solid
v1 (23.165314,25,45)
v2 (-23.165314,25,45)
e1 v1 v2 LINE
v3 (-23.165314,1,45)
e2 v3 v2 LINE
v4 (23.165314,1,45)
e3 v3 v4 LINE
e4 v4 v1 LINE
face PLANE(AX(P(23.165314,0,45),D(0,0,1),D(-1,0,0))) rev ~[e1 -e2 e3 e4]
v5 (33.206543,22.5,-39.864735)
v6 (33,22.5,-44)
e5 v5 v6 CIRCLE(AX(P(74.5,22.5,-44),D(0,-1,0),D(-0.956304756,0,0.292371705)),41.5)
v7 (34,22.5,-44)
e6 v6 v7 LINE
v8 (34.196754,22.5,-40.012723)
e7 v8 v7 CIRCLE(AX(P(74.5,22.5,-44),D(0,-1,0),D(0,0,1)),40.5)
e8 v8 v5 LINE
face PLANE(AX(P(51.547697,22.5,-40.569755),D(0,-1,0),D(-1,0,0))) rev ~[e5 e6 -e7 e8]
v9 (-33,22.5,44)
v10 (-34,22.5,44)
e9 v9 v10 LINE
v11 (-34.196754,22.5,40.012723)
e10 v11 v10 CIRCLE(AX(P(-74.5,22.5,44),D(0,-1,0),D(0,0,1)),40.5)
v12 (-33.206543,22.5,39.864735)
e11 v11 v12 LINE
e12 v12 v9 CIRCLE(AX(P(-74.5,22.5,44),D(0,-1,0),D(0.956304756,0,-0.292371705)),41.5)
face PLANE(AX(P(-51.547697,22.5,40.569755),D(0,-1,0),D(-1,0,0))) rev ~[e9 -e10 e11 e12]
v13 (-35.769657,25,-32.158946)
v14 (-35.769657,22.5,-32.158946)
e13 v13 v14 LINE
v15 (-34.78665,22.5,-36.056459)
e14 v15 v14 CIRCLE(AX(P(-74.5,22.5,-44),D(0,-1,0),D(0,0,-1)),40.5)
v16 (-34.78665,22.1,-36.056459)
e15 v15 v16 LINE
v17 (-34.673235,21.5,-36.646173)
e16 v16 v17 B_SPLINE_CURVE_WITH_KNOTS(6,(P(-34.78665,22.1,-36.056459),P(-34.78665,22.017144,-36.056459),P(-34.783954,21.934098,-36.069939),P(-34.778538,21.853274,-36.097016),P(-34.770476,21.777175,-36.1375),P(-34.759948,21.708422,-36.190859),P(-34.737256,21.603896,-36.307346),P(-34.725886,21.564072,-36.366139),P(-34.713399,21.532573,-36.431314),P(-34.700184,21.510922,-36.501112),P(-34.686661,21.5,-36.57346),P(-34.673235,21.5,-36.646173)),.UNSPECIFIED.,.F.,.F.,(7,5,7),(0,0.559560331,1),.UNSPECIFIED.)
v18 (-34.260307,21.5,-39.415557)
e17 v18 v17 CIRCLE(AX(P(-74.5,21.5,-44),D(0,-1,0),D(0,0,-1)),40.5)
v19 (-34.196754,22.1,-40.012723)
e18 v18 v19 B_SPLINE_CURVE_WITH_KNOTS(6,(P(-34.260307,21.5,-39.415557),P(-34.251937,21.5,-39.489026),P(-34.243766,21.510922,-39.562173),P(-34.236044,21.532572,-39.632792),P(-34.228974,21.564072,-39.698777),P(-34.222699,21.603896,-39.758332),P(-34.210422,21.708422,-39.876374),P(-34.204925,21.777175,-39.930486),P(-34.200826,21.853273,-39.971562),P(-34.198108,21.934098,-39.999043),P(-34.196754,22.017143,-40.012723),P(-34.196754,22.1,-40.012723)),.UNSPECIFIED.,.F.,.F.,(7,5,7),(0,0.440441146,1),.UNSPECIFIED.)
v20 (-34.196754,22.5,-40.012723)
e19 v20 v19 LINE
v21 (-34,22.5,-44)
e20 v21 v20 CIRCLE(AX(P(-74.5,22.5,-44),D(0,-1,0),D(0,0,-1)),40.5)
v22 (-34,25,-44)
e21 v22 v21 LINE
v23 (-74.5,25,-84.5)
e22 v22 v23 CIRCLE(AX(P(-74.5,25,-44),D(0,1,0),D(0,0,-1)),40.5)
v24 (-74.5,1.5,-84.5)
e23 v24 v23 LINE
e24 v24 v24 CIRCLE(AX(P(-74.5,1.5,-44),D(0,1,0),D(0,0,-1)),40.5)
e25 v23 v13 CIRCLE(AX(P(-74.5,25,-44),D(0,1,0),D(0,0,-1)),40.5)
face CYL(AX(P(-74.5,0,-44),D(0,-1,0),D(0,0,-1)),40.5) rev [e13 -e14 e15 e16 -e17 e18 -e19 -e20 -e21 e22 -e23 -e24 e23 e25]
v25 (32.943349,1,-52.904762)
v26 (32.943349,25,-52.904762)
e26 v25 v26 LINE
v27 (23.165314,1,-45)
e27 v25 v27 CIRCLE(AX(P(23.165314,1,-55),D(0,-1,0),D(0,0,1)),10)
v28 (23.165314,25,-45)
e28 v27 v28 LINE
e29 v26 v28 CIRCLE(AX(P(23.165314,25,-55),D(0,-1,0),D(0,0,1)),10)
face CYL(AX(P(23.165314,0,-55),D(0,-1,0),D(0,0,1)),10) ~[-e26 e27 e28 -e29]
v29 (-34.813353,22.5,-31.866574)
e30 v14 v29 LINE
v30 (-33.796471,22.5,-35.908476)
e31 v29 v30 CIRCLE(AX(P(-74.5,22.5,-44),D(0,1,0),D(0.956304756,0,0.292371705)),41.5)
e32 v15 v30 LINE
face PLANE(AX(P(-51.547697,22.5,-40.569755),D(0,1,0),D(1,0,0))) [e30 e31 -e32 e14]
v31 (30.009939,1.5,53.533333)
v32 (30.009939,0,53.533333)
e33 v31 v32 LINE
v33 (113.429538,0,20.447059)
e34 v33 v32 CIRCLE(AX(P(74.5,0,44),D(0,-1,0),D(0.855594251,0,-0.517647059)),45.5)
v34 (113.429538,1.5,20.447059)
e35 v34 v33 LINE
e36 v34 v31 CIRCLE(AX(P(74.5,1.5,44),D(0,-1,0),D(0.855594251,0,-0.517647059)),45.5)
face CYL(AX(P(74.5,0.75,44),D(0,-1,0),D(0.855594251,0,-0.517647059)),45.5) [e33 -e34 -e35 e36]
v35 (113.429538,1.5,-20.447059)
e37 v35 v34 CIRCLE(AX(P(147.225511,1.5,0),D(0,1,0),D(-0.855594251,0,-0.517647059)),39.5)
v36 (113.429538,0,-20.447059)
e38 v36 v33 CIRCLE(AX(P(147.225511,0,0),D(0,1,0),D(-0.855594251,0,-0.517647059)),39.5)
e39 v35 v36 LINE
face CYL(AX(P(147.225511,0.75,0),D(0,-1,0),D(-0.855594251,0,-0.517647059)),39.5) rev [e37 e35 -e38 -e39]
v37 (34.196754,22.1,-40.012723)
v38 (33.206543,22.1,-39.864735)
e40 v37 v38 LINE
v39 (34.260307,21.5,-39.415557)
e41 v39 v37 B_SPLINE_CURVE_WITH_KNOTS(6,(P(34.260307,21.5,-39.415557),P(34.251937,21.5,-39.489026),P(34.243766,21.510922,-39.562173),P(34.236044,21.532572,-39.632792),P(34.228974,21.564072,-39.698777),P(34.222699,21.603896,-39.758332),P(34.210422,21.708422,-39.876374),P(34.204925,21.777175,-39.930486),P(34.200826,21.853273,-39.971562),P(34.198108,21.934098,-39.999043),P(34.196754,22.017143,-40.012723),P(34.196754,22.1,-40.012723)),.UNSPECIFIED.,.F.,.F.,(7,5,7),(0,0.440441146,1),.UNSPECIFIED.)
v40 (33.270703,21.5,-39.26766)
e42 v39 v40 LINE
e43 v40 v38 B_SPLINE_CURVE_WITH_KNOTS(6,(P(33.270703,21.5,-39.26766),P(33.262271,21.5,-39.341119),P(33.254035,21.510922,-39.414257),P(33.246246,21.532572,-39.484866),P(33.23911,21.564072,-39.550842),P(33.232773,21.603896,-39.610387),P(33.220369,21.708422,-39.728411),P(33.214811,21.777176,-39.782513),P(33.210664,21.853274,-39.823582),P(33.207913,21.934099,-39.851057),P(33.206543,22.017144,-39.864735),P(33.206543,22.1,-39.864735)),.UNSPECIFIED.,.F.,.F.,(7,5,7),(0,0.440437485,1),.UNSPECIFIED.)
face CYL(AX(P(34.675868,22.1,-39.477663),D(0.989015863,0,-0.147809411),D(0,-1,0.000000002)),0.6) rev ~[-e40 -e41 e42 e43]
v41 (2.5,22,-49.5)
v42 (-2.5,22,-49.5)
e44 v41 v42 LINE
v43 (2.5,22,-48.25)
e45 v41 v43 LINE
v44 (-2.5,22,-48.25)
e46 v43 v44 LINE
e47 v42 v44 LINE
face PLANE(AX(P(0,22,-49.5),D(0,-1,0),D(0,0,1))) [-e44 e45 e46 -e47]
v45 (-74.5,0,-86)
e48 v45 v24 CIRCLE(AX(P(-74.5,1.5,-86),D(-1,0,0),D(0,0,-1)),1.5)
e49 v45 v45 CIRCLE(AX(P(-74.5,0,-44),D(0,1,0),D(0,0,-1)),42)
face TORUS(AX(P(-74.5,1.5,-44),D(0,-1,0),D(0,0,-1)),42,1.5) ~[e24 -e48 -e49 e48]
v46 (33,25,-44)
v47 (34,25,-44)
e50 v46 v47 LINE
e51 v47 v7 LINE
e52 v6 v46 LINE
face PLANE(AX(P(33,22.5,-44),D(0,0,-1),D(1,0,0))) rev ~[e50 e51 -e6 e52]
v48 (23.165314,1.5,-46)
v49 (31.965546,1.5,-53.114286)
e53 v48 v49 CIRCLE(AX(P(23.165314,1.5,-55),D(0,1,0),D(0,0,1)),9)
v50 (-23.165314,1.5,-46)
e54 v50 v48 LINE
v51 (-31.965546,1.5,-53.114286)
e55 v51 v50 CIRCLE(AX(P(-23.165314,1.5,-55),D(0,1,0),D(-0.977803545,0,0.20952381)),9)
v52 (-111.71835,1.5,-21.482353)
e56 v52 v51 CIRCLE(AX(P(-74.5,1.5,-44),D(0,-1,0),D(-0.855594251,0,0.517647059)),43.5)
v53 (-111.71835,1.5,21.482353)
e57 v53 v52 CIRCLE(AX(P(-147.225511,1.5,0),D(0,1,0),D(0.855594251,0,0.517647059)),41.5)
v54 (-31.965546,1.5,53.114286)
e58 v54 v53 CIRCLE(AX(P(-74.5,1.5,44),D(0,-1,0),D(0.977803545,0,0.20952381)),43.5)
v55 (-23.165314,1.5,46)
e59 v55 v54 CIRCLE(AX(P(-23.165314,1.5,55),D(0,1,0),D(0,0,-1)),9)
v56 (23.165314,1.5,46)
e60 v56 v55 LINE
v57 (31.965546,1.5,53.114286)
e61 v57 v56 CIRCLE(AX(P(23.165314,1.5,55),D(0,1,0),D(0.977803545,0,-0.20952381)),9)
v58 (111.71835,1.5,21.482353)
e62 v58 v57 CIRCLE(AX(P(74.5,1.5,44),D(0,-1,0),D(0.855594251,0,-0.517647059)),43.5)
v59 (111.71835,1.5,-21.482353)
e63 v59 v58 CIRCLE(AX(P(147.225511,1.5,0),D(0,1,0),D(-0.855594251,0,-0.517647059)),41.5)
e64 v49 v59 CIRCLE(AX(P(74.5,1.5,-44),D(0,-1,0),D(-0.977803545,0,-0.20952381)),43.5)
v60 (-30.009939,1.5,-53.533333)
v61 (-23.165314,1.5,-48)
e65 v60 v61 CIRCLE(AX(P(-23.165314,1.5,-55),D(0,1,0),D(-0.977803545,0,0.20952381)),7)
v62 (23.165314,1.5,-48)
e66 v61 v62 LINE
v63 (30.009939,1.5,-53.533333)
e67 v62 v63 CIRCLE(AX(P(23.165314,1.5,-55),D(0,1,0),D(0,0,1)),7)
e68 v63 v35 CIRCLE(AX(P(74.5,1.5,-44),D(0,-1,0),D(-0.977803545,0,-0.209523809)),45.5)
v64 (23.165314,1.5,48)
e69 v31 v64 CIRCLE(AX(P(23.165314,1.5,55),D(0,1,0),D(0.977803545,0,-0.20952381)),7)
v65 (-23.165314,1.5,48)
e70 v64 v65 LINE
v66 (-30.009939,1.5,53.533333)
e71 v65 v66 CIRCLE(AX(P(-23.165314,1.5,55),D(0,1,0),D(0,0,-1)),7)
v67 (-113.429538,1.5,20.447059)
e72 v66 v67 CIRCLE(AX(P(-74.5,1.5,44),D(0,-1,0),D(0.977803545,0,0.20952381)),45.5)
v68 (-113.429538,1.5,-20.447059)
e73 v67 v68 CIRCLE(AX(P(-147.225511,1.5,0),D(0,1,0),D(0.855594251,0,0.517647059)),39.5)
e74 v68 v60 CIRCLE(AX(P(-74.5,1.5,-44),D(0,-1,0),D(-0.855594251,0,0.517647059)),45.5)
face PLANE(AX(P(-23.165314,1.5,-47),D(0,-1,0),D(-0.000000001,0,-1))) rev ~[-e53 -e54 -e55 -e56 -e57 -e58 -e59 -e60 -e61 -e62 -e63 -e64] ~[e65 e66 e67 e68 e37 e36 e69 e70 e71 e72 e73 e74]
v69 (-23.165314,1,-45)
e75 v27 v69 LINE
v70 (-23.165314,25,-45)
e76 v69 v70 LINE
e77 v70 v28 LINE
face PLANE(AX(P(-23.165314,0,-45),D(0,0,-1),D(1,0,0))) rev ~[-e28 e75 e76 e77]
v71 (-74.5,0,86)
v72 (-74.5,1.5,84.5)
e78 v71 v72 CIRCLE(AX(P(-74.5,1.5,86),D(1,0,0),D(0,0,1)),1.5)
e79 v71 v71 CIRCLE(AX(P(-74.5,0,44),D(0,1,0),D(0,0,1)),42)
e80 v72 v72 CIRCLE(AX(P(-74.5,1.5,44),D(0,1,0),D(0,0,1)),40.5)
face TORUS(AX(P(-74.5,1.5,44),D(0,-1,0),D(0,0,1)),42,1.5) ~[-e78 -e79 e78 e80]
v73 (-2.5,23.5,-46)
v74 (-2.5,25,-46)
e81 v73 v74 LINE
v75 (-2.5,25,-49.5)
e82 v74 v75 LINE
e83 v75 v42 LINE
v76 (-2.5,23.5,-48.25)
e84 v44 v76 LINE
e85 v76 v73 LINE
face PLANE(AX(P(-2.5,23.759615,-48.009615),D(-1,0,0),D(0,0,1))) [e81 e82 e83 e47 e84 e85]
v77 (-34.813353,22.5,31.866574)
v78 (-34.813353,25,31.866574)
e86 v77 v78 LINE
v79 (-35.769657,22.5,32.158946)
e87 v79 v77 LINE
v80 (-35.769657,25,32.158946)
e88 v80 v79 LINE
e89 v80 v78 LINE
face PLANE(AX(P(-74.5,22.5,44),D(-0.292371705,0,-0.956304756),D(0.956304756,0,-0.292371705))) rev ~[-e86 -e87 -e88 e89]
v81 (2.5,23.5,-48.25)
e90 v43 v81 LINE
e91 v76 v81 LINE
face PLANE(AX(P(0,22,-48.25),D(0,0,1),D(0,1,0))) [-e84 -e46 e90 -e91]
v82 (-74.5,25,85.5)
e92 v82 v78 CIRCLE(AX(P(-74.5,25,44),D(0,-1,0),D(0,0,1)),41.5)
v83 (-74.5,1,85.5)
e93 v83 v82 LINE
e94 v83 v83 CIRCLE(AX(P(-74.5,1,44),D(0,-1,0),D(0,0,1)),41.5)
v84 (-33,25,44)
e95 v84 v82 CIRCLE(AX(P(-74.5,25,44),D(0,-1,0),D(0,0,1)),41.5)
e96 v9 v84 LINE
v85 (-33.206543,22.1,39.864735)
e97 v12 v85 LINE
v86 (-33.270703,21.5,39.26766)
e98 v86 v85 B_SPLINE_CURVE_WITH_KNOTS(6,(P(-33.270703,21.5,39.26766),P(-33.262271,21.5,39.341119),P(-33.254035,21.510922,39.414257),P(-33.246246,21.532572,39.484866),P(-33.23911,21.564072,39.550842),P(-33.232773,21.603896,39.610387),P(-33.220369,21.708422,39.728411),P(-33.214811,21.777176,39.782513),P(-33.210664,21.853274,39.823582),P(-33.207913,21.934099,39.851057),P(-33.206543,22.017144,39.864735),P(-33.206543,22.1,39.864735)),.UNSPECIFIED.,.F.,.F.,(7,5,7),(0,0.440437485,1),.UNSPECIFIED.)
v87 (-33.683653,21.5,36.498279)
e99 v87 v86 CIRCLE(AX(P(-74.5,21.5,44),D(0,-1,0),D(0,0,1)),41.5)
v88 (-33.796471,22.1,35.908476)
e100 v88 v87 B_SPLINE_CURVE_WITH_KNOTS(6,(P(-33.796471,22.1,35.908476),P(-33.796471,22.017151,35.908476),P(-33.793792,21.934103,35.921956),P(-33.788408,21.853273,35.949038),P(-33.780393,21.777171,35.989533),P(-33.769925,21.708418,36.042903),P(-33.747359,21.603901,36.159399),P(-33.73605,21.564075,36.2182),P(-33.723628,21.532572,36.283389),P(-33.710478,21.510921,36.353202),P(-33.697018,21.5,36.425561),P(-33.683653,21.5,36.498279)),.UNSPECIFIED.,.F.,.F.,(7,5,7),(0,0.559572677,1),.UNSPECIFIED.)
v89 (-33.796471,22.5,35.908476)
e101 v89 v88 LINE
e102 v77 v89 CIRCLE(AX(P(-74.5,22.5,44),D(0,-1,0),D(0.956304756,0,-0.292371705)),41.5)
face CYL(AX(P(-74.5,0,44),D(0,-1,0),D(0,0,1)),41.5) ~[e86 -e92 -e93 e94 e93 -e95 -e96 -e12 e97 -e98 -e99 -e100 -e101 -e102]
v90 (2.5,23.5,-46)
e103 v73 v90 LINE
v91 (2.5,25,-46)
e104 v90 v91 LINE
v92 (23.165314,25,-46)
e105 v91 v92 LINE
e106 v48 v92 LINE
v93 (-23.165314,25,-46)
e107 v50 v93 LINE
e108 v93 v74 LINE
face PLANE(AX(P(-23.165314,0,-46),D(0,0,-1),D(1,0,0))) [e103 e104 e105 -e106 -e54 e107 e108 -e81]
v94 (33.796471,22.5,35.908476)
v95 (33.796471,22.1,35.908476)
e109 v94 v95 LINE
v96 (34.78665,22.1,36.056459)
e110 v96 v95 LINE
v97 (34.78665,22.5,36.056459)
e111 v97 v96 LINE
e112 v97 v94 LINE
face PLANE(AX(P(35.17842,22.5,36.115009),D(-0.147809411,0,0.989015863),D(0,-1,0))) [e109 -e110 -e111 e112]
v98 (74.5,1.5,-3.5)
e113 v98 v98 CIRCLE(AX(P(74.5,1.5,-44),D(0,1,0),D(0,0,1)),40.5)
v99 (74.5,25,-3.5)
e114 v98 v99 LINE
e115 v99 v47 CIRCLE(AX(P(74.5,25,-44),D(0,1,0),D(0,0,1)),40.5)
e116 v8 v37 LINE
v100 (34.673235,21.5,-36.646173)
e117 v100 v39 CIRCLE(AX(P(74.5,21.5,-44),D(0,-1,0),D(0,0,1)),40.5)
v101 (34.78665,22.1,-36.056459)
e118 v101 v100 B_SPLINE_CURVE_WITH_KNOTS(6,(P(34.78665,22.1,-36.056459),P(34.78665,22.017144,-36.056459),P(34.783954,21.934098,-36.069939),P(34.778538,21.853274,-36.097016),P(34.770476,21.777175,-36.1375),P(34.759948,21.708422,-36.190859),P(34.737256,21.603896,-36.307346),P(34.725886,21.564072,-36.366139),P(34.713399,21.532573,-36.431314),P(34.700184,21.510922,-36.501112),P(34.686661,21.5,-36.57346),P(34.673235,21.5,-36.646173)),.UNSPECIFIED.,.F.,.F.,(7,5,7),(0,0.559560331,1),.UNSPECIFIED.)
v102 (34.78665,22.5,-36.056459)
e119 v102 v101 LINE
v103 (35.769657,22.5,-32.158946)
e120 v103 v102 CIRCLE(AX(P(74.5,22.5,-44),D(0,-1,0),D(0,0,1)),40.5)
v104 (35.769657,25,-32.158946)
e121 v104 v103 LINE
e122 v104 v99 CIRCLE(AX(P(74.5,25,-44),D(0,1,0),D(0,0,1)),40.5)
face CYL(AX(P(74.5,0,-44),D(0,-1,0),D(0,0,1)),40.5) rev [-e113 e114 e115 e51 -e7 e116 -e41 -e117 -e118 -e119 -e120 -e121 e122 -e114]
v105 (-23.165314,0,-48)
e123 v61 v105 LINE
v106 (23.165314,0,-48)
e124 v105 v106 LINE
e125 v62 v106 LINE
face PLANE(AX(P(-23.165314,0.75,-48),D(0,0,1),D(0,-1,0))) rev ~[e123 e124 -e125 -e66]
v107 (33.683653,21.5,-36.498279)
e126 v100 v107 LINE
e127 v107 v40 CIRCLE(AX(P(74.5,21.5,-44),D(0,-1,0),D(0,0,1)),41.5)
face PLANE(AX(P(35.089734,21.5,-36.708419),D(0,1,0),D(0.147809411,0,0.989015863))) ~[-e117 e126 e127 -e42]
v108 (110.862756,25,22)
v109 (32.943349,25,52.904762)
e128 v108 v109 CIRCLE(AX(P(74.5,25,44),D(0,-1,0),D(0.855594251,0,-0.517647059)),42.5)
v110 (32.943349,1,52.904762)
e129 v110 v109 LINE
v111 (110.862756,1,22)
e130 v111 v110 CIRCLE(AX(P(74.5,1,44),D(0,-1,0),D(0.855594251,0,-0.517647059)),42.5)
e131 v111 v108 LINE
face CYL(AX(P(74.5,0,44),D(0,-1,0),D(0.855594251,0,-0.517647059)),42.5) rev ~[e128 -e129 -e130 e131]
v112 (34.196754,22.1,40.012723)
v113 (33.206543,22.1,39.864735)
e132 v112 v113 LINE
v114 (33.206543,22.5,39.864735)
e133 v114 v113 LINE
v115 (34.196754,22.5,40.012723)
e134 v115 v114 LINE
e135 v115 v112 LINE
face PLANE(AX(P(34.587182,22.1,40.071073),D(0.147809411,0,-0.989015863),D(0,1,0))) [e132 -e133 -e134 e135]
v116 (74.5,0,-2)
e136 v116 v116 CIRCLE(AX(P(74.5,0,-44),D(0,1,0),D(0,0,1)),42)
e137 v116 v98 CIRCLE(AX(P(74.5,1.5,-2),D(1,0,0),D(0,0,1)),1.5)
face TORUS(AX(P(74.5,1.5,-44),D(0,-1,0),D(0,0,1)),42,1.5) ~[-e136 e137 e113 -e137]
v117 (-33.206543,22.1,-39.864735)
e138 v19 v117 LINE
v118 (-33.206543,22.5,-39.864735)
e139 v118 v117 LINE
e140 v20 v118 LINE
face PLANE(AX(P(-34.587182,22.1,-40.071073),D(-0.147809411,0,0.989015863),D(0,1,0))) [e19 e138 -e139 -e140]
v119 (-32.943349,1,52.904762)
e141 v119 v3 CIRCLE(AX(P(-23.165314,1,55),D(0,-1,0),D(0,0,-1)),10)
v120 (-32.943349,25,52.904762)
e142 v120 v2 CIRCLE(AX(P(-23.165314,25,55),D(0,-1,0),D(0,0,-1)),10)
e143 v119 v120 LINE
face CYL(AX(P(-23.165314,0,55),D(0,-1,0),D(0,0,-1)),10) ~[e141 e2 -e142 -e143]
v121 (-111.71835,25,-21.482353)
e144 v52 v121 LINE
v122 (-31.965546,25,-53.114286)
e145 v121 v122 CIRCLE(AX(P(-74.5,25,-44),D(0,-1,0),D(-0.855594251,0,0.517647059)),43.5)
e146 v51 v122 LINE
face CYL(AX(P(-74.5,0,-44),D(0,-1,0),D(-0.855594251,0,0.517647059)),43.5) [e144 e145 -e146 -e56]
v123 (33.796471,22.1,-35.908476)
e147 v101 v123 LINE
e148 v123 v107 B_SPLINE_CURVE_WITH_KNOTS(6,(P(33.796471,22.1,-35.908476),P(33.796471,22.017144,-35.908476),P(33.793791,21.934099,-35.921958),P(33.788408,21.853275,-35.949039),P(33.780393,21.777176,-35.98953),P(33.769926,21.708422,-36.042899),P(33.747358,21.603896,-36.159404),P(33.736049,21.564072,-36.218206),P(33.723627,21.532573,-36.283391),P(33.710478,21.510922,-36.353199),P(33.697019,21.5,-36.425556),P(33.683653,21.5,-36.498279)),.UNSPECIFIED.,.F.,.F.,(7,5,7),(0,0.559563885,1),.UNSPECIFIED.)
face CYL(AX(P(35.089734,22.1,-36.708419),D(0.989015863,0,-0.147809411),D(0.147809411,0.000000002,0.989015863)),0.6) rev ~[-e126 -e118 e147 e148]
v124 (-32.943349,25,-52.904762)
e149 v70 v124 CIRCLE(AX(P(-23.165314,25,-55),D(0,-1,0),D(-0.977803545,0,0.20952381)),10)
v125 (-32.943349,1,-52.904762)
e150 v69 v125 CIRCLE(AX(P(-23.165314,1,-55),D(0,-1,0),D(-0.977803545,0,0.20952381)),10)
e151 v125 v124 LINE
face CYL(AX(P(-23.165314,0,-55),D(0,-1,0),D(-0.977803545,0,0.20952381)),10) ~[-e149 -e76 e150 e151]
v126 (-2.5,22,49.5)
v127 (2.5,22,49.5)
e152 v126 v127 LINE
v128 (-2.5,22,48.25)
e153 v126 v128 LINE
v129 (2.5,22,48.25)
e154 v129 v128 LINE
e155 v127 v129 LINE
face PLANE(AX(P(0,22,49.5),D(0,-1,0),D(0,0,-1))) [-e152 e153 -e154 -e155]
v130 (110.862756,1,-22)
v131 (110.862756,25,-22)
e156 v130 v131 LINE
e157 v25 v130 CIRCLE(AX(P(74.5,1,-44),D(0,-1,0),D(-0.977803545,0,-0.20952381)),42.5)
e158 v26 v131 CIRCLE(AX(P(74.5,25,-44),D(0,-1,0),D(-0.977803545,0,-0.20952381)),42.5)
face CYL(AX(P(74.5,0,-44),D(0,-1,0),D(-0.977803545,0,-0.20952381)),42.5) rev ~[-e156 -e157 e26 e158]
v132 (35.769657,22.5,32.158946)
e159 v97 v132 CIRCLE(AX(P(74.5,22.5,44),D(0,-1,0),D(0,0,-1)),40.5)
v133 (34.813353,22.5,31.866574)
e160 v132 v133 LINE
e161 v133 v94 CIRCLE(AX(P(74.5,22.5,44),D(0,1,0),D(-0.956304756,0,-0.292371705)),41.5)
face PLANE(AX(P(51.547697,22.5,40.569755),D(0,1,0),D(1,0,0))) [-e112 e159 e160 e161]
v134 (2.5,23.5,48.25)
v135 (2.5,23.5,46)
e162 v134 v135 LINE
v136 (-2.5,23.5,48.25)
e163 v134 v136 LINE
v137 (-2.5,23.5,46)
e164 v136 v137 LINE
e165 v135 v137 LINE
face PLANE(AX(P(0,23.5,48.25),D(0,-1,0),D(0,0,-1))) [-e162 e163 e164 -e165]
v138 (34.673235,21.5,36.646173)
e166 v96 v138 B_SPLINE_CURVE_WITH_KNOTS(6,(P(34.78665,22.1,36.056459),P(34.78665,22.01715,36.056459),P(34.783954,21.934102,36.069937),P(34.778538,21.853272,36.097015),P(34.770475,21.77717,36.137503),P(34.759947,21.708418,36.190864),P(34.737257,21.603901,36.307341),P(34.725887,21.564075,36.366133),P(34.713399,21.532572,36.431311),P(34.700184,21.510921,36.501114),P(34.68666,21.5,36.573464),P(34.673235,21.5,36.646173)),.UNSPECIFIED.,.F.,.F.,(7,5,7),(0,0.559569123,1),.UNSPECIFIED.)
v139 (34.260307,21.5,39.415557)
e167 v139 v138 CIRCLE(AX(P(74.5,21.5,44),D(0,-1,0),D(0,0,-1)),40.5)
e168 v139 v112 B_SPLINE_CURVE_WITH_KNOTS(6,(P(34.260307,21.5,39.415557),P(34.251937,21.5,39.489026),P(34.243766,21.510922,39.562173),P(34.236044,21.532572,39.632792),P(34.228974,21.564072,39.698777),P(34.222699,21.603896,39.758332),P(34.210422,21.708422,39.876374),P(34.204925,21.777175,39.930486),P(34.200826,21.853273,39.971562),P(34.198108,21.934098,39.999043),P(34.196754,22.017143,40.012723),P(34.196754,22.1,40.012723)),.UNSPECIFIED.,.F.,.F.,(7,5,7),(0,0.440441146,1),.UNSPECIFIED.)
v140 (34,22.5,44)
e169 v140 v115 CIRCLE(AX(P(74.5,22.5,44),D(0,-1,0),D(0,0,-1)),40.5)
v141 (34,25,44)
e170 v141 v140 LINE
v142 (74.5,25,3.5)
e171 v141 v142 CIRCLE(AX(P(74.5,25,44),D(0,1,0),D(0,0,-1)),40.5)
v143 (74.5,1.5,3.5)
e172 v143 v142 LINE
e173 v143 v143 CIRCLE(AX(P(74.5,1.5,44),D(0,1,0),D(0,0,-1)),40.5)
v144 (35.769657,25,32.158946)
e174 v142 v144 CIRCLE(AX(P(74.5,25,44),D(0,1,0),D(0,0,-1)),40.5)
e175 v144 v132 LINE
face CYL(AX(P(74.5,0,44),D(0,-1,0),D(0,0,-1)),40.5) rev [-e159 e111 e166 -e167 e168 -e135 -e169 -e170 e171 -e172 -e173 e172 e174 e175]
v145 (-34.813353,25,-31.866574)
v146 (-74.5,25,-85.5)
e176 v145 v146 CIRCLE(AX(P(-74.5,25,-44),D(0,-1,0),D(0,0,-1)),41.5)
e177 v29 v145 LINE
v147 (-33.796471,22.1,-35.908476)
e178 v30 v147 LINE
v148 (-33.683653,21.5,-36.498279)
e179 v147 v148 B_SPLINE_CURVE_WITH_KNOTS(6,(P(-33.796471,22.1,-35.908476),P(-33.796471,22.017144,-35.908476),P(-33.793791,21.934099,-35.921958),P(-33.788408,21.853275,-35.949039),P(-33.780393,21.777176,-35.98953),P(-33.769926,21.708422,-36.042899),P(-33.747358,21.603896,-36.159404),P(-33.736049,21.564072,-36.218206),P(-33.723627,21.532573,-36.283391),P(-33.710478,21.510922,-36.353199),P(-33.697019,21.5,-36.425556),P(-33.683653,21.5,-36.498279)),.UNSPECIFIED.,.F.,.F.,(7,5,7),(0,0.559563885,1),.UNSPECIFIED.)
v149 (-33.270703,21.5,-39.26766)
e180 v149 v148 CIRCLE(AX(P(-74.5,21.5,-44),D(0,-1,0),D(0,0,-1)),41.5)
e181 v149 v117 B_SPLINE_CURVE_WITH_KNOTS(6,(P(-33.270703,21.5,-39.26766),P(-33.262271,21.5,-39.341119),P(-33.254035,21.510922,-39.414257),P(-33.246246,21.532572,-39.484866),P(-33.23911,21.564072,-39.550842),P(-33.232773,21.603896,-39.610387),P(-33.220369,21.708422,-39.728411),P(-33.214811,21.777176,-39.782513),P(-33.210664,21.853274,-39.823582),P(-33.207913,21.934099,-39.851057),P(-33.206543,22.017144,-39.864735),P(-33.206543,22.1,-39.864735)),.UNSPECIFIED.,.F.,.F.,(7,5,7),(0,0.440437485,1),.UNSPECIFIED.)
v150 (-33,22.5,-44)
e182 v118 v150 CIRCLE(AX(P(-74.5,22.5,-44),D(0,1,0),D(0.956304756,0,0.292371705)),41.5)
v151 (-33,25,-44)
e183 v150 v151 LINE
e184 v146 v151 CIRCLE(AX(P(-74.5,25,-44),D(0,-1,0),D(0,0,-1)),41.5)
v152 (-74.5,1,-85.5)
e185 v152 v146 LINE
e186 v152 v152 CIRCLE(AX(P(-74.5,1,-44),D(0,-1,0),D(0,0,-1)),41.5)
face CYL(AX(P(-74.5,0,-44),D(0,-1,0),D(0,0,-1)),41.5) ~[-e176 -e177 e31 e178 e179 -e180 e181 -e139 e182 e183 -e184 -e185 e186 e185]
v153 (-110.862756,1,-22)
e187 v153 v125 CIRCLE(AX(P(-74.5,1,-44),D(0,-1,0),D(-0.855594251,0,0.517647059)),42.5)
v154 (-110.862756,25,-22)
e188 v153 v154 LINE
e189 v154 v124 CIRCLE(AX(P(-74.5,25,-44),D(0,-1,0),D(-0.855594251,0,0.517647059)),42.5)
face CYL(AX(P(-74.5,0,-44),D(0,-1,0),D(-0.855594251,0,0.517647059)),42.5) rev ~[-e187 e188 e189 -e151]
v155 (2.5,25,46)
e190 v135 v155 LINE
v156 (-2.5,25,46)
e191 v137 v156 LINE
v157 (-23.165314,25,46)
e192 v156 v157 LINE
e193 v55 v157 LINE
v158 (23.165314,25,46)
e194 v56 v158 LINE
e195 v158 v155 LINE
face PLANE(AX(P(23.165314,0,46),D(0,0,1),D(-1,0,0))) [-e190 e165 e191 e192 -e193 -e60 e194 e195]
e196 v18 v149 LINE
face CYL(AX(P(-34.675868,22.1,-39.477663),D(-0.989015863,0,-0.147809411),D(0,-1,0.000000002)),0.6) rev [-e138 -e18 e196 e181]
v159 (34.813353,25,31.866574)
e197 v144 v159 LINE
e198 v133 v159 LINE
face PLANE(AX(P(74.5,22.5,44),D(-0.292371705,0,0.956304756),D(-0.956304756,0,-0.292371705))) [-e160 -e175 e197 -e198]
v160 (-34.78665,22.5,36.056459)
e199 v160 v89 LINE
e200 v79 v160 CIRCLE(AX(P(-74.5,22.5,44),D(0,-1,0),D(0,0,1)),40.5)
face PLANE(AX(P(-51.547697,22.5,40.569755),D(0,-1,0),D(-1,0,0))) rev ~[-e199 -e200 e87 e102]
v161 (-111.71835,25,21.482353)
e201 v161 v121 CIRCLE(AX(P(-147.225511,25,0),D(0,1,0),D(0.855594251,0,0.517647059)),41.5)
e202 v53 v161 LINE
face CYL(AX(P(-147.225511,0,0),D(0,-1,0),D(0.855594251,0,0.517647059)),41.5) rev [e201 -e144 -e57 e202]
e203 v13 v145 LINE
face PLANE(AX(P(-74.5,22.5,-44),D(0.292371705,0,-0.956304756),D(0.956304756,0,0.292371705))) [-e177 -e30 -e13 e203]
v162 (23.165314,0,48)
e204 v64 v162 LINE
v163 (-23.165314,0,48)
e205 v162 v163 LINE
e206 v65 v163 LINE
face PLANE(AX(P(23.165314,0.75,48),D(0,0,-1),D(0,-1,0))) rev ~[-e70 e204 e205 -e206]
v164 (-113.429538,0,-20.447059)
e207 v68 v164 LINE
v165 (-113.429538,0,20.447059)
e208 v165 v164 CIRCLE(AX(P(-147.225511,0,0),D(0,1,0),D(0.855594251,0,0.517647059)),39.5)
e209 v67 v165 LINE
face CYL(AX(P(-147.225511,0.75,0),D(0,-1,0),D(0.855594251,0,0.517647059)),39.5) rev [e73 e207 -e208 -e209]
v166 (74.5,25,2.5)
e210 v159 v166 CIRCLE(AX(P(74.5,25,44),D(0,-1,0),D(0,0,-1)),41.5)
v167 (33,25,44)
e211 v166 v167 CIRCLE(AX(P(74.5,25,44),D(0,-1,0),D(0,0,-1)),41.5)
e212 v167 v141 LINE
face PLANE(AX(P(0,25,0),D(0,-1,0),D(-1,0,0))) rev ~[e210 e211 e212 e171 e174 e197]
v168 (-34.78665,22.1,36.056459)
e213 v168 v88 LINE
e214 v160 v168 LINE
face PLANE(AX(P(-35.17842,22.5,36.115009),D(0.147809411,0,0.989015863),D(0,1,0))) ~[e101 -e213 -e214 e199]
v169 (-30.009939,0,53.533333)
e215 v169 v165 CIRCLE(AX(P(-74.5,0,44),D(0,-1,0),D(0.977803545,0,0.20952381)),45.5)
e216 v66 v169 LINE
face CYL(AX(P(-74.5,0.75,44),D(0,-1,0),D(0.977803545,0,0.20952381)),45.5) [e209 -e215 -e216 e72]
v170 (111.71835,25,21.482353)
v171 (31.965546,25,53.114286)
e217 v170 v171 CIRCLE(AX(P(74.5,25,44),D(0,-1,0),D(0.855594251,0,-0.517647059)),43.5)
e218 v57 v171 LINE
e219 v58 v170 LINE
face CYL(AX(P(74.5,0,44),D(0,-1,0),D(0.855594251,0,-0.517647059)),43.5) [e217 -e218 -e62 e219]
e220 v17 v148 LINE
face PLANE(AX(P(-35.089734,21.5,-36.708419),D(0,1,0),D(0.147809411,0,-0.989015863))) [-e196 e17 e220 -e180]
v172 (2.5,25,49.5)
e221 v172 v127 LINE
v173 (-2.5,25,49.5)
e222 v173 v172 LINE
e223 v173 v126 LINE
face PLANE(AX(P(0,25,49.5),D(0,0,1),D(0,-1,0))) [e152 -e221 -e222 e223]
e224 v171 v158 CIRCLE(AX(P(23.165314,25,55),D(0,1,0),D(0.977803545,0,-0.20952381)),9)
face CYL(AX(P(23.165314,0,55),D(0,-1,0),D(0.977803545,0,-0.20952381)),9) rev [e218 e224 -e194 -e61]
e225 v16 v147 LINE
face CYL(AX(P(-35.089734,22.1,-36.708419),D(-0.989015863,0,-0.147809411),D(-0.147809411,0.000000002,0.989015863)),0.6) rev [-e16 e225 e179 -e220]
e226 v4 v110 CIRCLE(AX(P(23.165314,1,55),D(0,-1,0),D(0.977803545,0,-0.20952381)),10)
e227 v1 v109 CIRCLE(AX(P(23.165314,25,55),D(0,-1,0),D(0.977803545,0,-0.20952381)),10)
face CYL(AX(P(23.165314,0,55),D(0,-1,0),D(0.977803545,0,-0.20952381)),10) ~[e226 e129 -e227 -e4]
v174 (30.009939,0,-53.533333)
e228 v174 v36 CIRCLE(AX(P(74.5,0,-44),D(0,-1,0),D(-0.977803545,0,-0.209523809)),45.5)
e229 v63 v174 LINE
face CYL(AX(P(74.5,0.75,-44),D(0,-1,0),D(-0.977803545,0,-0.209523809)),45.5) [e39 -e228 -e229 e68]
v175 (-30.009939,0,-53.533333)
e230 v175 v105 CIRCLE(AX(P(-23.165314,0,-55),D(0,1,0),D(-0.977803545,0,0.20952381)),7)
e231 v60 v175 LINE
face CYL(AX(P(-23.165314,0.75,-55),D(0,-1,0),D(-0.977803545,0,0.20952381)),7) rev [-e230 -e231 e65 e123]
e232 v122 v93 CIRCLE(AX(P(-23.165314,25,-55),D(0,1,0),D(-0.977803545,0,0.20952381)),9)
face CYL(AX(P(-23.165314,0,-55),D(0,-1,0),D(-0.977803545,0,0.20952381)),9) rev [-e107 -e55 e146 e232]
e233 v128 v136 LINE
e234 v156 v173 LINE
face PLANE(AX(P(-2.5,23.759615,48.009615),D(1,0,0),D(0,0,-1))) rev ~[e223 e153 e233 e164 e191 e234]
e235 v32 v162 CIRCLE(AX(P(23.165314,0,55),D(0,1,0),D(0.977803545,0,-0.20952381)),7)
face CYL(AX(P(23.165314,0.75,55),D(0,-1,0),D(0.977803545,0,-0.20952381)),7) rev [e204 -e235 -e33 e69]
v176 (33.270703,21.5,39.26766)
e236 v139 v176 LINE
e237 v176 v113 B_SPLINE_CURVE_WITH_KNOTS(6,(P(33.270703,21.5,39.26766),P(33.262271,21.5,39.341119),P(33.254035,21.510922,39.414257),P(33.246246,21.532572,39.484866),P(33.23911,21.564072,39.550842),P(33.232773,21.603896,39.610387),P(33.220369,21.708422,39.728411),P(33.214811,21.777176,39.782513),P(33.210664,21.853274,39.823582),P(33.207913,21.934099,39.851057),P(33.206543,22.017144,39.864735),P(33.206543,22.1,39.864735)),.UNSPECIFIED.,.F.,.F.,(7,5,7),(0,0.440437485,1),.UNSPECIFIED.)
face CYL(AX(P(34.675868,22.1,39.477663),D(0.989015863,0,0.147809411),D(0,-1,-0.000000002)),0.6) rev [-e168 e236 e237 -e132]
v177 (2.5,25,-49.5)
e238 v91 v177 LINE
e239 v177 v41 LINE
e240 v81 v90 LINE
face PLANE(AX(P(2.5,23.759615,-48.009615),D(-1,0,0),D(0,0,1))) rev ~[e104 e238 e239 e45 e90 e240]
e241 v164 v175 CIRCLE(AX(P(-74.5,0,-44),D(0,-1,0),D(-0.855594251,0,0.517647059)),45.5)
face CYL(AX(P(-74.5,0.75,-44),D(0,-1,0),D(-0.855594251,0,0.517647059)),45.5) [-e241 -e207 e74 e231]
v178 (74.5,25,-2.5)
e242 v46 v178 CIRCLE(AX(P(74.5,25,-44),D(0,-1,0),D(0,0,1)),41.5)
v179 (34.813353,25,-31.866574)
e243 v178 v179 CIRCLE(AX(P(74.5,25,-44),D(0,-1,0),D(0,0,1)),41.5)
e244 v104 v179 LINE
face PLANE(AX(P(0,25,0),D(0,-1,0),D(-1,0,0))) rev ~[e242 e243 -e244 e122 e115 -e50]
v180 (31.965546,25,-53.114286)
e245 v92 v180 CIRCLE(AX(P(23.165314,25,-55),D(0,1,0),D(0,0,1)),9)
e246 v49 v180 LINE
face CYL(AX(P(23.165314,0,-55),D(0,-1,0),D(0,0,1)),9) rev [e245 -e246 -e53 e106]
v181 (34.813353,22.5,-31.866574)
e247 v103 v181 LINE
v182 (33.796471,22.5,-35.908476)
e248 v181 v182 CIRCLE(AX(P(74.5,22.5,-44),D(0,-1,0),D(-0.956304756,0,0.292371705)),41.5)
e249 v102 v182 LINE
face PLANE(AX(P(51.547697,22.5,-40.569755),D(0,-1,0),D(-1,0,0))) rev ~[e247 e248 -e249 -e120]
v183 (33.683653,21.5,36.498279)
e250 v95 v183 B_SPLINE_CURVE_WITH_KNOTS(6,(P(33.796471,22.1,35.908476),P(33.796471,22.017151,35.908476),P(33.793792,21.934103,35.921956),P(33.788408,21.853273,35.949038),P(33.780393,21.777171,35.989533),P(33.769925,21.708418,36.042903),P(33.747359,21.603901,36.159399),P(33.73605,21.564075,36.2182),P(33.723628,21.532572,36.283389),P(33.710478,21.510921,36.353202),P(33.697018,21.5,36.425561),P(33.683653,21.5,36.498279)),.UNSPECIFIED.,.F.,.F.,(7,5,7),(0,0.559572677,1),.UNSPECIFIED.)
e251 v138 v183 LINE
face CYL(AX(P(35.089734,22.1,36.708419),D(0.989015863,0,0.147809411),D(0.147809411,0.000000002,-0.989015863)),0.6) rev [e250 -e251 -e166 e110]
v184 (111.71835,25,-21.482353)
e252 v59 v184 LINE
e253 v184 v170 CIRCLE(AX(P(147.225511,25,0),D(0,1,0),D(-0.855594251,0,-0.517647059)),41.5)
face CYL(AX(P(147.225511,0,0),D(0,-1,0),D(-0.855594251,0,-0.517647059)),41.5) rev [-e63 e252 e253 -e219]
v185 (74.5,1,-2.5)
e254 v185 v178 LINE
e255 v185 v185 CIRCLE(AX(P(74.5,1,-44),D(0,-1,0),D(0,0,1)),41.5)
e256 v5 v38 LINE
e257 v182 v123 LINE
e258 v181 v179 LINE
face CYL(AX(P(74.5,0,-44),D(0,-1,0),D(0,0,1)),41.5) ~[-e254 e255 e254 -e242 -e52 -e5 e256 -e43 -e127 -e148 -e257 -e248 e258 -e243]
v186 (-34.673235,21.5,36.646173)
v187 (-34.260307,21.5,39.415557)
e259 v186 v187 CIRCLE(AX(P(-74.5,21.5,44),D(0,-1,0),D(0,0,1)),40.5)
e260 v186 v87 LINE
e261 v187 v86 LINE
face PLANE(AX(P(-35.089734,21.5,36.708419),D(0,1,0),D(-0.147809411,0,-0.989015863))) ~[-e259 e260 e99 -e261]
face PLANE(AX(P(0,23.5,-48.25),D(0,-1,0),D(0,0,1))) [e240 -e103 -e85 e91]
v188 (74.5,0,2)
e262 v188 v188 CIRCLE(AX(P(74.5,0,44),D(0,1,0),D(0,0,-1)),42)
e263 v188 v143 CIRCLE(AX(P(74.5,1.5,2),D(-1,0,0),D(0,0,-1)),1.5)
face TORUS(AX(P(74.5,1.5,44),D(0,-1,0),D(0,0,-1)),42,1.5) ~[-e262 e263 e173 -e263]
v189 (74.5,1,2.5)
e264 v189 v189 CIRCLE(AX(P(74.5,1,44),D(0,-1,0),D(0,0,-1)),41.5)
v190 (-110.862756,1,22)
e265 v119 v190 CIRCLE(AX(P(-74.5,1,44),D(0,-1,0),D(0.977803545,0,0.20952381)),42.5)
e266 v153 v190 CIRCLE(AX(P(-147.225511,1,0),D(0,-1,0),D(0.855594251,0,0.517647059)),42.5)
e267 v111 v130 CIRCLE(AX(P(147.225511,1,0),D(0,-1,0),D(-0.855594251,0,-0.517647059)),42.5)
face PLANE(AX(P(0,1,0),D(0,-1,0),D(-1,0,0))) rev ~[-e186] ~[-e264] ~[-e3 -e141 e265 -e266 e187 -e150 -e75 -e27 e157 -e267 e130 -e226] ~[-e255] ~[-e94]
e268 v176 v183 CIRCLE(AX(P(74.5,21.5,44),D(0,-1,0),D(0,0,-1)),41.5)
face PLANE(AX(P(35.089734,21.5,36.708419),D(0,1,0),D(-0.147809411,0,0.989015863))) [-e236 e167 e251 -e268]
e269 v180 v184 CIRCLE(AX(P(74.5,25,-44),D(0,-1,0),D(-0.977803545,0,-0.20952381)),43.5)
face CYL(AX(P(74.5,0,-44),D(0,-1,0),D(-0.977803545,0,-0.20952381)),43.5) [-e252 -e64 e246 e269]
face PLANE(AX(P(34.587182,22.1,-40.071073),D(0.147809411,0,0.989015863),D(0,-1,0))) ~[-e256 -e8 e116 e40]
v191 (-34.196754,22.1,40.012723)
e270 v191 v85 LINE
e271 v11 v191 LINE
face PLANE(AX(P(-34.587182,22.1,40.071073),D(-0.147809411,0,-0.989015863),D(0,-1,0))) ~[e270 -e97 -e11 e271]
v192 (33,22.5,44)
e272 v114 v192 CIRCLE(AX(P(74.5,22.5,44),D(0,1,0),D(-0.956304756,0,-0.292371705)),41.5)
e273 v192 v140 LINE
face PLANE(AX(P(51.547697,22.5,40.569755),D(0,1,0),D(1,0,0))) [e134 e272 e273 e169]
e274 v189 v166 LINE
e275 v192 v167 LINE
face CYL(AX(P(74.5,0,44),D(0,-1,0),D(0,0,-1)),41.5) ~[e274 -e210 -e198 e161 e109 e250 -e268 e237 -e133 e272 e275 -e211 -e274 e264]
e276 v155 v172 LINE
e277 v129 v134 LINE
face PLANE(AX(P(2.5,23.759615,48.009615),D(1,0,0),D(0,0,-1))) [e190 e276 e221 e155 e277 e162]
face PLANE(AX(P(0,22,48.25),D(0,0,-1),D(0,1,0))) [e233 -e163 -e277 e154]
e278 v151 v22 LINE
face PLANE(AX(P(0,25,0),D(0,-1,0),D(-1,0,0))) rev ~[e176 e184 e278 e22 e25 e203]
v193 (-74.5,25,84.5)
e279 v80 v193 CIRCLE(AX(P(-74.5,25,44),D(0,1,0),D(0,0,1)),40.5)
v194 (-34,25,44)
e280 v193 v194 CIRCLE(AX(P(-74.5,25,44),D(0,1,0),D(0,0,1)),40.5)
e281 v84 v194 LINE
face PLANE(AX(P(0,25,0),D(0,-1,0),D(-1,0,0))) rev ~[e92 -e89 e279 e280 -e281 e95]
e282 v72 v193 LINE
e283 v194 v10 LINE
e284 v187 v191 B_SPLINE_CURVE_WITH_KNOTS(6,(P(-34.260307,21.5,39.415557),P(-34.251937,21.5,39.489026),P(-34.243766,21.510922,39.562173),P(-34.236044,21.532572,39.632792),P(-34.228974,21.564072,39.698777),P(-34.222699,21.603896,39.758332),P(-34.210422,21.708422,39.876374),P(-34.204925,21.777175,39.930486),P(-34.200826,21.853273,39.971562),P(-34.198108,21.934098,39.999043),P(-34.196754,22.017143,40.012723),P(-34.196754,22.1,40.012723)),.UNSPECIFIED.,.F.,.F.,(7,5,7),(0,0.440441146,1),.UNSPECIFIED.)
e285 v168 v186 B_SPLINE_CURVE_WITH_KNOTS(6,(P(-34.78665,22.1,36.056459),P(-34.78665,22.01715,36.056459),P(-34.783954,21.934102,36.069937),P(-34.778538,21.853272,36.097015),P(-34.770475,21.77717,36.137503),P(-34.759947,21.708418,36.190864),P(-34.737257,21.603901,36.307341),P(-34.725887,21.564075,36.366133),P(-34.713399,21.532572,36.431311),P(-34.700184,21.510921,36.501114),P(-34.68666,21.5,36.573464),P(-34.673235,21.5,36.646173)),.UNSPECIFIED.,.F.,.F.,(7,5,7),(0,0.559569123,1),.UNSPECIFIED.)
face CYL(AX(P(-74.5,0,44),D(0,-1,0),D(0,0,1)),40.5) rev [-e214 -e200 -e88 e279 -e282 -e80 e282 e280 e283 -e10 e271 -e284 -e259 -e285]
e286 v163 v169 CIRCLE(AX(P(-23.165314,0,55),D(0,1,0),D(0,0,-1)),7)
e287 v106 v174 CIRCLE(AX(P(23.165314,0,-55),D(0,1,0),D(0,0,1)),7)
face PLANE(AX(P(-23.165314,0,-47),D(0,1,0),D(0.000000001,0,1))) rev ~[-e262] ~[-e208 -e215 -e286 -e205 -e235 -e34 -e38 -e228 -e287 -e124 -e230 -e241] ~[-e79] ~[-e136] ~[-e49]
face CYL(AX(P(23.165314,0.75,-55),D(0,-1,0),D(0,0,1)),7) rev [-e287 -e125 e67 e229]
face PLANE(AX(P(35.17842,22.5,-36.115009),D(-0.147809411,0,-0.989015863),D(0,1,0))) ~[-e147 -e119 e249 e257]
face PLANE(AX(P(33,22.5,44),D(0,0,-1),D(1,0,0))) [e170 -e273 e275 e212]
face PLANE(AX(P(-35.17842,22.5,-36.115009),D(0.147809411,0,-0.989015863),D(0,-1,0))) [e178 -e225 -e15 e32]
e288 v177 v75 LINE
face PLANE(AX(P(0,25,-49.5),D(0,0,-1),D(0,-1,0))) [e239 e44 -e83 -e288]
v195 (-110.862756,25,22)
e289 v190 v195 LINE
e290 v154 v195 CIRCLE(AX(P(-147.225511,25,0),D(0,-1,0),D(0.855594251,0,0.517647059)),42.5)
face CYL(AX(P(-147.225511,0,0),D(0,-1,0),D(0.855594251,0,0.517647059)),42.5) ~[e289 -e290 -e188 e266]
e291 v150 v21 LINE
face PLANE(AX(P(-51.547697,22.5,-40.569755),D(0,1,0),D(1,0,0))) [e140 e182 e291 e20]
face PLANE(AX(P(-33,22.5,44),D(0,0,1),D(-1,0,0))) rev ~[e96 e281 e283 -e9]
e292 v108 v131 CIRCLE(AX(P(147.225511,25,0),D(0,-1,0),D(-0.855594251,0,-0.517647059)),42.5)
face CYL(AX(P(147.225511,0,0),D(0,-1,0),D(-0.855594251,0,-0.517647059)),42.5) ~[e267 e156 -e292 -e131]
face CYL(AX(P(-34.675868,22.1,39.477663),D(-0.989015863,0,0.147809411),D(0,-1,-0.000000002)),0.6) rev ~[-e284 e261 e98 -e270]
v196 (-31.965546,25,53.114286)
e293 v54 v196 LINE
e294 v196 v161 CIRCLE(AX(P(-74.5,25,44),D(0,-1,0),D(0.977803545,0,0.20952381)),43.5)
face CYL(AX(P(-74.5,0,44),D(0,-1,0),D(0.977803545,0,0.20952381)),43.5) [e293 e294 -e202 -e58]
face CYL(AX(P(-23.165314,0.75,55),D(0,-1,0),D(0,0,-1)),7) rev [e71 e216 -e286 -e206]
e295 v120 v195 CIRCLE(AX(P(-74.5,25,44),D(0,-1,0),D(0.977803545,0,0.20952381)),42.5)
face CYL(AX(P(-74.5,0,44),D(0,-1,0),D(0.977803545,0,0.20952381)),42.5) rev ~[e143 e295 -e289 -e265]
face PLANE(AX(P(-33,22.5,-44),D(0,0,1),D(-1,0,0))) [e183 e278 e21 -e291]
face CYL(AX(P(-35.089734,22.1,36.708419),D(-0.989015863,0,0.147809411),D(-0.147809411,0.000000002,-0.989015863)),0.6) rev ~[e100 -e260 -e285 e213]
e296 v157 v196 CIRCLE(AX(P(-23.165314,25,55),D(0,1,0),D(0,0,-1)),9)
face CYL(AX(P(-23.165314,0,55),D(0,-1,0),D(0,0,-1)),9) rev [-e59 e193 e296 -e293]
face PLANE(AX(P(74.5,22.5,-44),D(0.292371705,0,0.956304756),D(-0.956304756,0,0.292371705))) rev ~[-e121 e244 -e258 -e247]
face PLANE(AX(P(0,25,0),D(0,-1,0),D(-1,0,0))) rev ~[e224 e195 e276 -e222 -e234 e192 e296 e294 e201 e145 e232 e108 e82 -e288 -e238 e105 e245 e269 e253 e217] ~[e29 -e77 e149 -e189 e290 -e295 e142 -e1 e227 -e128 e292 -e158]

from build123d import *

# Parameters (mm, degrees)
SKETCH1_R                                    = 40.5
BOSS_EXTRUDE1_DEPTH                          = 25
SHELL1_T                                     = -1
FILLET1_R                                    = 1.5
SKETCH2_W                                    = 2
SKETCH2_H                                    = 1.5
ARMCUTSMAIN_START                            = -2.5
ARMCUTSMAIN_DEPTH                            = 2.5
ARMCUTDETAIL_DEPTH                           = 5
ARMCUTDUPES_AT_THE_SECOND_PLANE_COPY_1_DEPTH = 5
HOOKS_DEPTH                                  = 2.5


with BuildPart() as part:
    # Sketch1 → Boss-Extrude1 (new body)
    with BuildSketch(Plane(origin=(0, 0, 0), x_dir=(1, 0, 0), z_dir=(0, 1, 0))):
        with BuildLine():
            Line((-23.165313871, 46), (23.165313871, 46))
            ThreePointArc((23.165313871, 46), (28.82343067, 48.001020483), (31.965545779, 53.114285714))
            ThreePointArc((31.965545779, 53.114285714), (90.537768984, 84.435627435), (111.718349922, 21.482352941))
            ThreePointArc((111.718349922, 21.482352941), (105.725511342, 0), (111.718349922, -21.482352941))
            ThreePointArc((111.718349922, -21.482352941), (90.537768984, -84.435627435), (31.965545779, -53.114285714))
            ThreePointArc((31.965545779, -53.114285714), (28.82343067, -48.001020483), (23.165313871, -46))
            Line((23.165313871, -46), (-23.165313871, -46))
            ThreePointArc((-23.165313871, -46), (-28.82343067, -48.001020483), (-31.965545779, -53.114285714))
            ThreePointArc((-31.965545779, -53.114285714), (-90.537768984, -84.435627435), (-111.718349922, -21.482352941))
            ThreePointArc((-111.718349922, -21.482352941), (-105.725511342, 0), (-111.718349922, 21.482352941))
            ThreePointArc((-111.718349922, 21.482352941), (-90.537768984, 84.435627435), (-31.965545779, 53.114285714))
            ThreePointArc((-31.965545779, 53.114285714), (-28.82343067, 48.001020483), (-23.165313871, 46))
        make_face()
        with Locations((74.5, 44)):
            Circle(SKETCH1_R, mode=Mode.SUBTRACT)
        with Locations((74.5, -44)):
            Circle(SKETCH1_R, mode=Mode.SUBTRACT)
        with Locations((-74.5, -44)):
            Circle(SKETCH1_R, mode=Mode.SUBTRACT)
        with Locations((-74.5, 44)):
            Circle(SKETCH1_R, mode=Mode.SUBTRACT)
    extrude(amount=BOSS_EXTRUDE1_DEPTH)

    # Shell1
    shell1_openings = [part.faces().sort_by_distance(p)[0] for p in [
        (0, 25, 0),
    ]]
    offset(amount=SHELL1_T, openings=shell1_openings, kind=Kind.INTERSECTION)

    # Fillet1
    fillet1_edges = [part.edges().sort_by_distance(p)[0] for p in [
        (34, 0, -44),
        (34, 0, 44),
        (-115, 0, 44),
        (-115, 0, -44),
    ]]
    fillet(fillet1_edges, radius=FILLET1_R)

    # Lip: sweep along a path in Sketch1<2>
    with BuildLine(Plane(origin=(0, 0, 0), x_dir=(1, 0, 0), z_dir=(0, 1, 0))) as lip_path:
        Line((-23.165313871, 46), (23.165313871, 46))
        ThreePointArc((23.165313871, 46), (28.82343067, 48.001020483), (31.965545779, 53.114285714))
        ThreePointArc((31.965545779, 53.114285714), (90.537768984, 84.435627435), (111.718349922, 21.482352941))
        ThreePointArc((111.718349922, 21.482352941), (105.725511342, 0), (111.718349922, -21.482352941))
        ThreePointArc((111.718349922, -21.482352941), (90.537768984, -84.435627435), (31.965545779, -53.114285714))
        ThreePointArc((31.965545779, -53.114285714), (28.82343067, -48.001020483), (23.165313871, -46))
        Line((23.165313871, -46), (-23.165313871, -46))
        ThreePointArc((-23.165313871, -46), (-28.82343067, -48.001020483), (-31.965545779, -53.114285714))
        ThreePointArc((-31.965545779, -53.114285714), (-90.537768984, -84.435627435), (-111.718349922, -21.482352941))
        ThreePointArc((-111.718349922, -21.482352941), (-105.725511342, 0), (-111.718349922, 21.482352941))
        ThreePointArc((-111.718349922, 21.482352941), (-90.537768984, 84.435627435), (-31.965545779, 53.114285714))
        ThreePointArc((-31.965545779, 53.114285714), (-28.82343067, 48.001020483), (-23.165313871, 46))
    # Sketch2 → Lip (sweep)
    with BuildSketch(Plane(origin=(0, 0, 0), x_dir=(0, 0, -1), z_dir=(1, 0, 0))):
        with Locations((-47, 0.75)):
            Rectangle(SKETCH2_W, SKETCH2_H)
    sweep(path=lip_path.line)

    # Sketch3 → ArmCutsMain (cut)
    with BuildSketch(Plane(origin=(0, 25, 0), x_dir=(1, 0, 0), z_dir=(0, 1, 0)).offset(ARMCUTSMAIN_START)):
        with BuildLine():
            Line((33, -44), (74.5, -44))
            Line((74.5, -44), (34.813352628, -31.866574254))
            ThreePointArc((34.813352628, -31.866574254), (33.45584167, -37.865909438), (33, -44))
        make_face()
        with BuildLine():
            Line((-34.813352628, -31.866574254), (-74.5, -44))
            Line((-74.5, -44), (-33, -44))
            ThreePointArc((-33, -44), (-33.45584167, -37.865909438), (-34.813352628, -31.866574254))
        make_face()
        with BuildLine():
            Line((-33, 44), (-74.5, 44))
            Line((-74.5, 44), (-34.813352628, 31.866574254))
            ThreePointArc((-34.813352628, 31.866574254), (-33.45584167, 37.865909438), (-33, 44))
        make_face()
        with BuildLine():
            Line((34.813352628, 31.866574254), (74.5, 44))
            Line((74.5, 44), (33, 44))
            ThreePointArc((33, 44), (33.45584167, 37.865909438), (34.813352628, 31.866574254))
        make_face()
    extrude(amount=ARMCUTSMAIN_DEPTH, mode=Mode.SUBTRACT)

    # Sketch6 → ArmCutDetail (cut)
    with BuildSketch(Plane(origin=(39.689358355, 0, 5.931614349), x_dir=(-0.14780941112961088, 0, 0.9890158633619168), z_dir=(-0.9890158633619167, 0, -0.14780941112961085))):
        with BuildLine():
            Line((34.518615708, 22.5), (30.518615708, 22.5))
            Line((30.518615708, 22.5), (30.518615708, 22.1))
            ThreePointArc((30.518615708, 22.1), (30.694351639, 21.675735931), (31.118615708, 21.5))
            Line((31.118615708, 21.5), (33.918615708, 21.5))
            ThreePointArc((33.918615708, 21.5), (34.342879777, 21.675735931), (34.518615708, 22.1))
            Line((34.518615708, 22.1), (34.518615708, 22.5))
        make_face()
    armcutdetail = extrude(amount=ARMCUTDETAIL_DEPTH, mode=Mode.SUBTRACT)

    # ArmCutDupes: ArmCutDetail across plane
    add(armcutdetail.mirror(Plane(origin=(0, 0, 0), x_dir=(0, 0, 1), z_dir=(1, 0, 0))), mode=Mode.SUBTRACT)

    # ArmCutDupes at the second plane: ArmCutDetail across plane
    add(armcutdetail.mirror(Plane.XY), mode=Mode.SUBTRACT)

    # ArmCutDupes at the second plane copy 1 s → ArmCutDupes at the second plane copy 1 (cut)
    with BuildSketch(Plane(origin=(-39.689358355, 0, -5.931614349), x_dir=(0.14780941112961088, 0, -0.9890158633619168), z_dir=(0.9890158633619167, 0, 0.14780941112961085))):
        with BuildLine():
            Line((34.518615708, 22.5), (30.518615708, 22.5))
            Line((30.518615708, 22.5), (30.518615708, 22.1))
            ThreePointArc((30.518615708, 22.1), (30.694351639, 21.675735931), (31.118615708, 21.5))
            Line((31.118615708, 21.5), (33.918615708, 21.5))
            ThreePointArc((33.918615708, 21.5), (34.342879777, 21.675735931), (34.518615708, 22.1))
            Line((34.518615708, 22.1), (34.518615708, 22.5))
        make_face()
    extrude(amount=ARMCUTDUPES_AT_THE_SECOND_PLANE_COPY_1_DEPTH, mode=Mode.SUBTRACT)

    # Sketch7 → Hooks (add, symmetric)
    with BuildSketch(Plane(origin=(0, 0, 0), x_dir=(0, 0, -1), z_dir=(1, 0, 0))):
        Polygon((46, 25), (49.5, 25), (49.5, 22), (48.25, 22), (48.25, 23.5), (46, 23.5), align=None)
        Polygon((-46, 23.5), (-46, 25), (-49.5, 25), (-49.5, 22), (-48.25, 22), (-48.25, 23.5), align=None)
    extrude(amount=HOOKS_DEPTH, both=True)


solid = part.part
